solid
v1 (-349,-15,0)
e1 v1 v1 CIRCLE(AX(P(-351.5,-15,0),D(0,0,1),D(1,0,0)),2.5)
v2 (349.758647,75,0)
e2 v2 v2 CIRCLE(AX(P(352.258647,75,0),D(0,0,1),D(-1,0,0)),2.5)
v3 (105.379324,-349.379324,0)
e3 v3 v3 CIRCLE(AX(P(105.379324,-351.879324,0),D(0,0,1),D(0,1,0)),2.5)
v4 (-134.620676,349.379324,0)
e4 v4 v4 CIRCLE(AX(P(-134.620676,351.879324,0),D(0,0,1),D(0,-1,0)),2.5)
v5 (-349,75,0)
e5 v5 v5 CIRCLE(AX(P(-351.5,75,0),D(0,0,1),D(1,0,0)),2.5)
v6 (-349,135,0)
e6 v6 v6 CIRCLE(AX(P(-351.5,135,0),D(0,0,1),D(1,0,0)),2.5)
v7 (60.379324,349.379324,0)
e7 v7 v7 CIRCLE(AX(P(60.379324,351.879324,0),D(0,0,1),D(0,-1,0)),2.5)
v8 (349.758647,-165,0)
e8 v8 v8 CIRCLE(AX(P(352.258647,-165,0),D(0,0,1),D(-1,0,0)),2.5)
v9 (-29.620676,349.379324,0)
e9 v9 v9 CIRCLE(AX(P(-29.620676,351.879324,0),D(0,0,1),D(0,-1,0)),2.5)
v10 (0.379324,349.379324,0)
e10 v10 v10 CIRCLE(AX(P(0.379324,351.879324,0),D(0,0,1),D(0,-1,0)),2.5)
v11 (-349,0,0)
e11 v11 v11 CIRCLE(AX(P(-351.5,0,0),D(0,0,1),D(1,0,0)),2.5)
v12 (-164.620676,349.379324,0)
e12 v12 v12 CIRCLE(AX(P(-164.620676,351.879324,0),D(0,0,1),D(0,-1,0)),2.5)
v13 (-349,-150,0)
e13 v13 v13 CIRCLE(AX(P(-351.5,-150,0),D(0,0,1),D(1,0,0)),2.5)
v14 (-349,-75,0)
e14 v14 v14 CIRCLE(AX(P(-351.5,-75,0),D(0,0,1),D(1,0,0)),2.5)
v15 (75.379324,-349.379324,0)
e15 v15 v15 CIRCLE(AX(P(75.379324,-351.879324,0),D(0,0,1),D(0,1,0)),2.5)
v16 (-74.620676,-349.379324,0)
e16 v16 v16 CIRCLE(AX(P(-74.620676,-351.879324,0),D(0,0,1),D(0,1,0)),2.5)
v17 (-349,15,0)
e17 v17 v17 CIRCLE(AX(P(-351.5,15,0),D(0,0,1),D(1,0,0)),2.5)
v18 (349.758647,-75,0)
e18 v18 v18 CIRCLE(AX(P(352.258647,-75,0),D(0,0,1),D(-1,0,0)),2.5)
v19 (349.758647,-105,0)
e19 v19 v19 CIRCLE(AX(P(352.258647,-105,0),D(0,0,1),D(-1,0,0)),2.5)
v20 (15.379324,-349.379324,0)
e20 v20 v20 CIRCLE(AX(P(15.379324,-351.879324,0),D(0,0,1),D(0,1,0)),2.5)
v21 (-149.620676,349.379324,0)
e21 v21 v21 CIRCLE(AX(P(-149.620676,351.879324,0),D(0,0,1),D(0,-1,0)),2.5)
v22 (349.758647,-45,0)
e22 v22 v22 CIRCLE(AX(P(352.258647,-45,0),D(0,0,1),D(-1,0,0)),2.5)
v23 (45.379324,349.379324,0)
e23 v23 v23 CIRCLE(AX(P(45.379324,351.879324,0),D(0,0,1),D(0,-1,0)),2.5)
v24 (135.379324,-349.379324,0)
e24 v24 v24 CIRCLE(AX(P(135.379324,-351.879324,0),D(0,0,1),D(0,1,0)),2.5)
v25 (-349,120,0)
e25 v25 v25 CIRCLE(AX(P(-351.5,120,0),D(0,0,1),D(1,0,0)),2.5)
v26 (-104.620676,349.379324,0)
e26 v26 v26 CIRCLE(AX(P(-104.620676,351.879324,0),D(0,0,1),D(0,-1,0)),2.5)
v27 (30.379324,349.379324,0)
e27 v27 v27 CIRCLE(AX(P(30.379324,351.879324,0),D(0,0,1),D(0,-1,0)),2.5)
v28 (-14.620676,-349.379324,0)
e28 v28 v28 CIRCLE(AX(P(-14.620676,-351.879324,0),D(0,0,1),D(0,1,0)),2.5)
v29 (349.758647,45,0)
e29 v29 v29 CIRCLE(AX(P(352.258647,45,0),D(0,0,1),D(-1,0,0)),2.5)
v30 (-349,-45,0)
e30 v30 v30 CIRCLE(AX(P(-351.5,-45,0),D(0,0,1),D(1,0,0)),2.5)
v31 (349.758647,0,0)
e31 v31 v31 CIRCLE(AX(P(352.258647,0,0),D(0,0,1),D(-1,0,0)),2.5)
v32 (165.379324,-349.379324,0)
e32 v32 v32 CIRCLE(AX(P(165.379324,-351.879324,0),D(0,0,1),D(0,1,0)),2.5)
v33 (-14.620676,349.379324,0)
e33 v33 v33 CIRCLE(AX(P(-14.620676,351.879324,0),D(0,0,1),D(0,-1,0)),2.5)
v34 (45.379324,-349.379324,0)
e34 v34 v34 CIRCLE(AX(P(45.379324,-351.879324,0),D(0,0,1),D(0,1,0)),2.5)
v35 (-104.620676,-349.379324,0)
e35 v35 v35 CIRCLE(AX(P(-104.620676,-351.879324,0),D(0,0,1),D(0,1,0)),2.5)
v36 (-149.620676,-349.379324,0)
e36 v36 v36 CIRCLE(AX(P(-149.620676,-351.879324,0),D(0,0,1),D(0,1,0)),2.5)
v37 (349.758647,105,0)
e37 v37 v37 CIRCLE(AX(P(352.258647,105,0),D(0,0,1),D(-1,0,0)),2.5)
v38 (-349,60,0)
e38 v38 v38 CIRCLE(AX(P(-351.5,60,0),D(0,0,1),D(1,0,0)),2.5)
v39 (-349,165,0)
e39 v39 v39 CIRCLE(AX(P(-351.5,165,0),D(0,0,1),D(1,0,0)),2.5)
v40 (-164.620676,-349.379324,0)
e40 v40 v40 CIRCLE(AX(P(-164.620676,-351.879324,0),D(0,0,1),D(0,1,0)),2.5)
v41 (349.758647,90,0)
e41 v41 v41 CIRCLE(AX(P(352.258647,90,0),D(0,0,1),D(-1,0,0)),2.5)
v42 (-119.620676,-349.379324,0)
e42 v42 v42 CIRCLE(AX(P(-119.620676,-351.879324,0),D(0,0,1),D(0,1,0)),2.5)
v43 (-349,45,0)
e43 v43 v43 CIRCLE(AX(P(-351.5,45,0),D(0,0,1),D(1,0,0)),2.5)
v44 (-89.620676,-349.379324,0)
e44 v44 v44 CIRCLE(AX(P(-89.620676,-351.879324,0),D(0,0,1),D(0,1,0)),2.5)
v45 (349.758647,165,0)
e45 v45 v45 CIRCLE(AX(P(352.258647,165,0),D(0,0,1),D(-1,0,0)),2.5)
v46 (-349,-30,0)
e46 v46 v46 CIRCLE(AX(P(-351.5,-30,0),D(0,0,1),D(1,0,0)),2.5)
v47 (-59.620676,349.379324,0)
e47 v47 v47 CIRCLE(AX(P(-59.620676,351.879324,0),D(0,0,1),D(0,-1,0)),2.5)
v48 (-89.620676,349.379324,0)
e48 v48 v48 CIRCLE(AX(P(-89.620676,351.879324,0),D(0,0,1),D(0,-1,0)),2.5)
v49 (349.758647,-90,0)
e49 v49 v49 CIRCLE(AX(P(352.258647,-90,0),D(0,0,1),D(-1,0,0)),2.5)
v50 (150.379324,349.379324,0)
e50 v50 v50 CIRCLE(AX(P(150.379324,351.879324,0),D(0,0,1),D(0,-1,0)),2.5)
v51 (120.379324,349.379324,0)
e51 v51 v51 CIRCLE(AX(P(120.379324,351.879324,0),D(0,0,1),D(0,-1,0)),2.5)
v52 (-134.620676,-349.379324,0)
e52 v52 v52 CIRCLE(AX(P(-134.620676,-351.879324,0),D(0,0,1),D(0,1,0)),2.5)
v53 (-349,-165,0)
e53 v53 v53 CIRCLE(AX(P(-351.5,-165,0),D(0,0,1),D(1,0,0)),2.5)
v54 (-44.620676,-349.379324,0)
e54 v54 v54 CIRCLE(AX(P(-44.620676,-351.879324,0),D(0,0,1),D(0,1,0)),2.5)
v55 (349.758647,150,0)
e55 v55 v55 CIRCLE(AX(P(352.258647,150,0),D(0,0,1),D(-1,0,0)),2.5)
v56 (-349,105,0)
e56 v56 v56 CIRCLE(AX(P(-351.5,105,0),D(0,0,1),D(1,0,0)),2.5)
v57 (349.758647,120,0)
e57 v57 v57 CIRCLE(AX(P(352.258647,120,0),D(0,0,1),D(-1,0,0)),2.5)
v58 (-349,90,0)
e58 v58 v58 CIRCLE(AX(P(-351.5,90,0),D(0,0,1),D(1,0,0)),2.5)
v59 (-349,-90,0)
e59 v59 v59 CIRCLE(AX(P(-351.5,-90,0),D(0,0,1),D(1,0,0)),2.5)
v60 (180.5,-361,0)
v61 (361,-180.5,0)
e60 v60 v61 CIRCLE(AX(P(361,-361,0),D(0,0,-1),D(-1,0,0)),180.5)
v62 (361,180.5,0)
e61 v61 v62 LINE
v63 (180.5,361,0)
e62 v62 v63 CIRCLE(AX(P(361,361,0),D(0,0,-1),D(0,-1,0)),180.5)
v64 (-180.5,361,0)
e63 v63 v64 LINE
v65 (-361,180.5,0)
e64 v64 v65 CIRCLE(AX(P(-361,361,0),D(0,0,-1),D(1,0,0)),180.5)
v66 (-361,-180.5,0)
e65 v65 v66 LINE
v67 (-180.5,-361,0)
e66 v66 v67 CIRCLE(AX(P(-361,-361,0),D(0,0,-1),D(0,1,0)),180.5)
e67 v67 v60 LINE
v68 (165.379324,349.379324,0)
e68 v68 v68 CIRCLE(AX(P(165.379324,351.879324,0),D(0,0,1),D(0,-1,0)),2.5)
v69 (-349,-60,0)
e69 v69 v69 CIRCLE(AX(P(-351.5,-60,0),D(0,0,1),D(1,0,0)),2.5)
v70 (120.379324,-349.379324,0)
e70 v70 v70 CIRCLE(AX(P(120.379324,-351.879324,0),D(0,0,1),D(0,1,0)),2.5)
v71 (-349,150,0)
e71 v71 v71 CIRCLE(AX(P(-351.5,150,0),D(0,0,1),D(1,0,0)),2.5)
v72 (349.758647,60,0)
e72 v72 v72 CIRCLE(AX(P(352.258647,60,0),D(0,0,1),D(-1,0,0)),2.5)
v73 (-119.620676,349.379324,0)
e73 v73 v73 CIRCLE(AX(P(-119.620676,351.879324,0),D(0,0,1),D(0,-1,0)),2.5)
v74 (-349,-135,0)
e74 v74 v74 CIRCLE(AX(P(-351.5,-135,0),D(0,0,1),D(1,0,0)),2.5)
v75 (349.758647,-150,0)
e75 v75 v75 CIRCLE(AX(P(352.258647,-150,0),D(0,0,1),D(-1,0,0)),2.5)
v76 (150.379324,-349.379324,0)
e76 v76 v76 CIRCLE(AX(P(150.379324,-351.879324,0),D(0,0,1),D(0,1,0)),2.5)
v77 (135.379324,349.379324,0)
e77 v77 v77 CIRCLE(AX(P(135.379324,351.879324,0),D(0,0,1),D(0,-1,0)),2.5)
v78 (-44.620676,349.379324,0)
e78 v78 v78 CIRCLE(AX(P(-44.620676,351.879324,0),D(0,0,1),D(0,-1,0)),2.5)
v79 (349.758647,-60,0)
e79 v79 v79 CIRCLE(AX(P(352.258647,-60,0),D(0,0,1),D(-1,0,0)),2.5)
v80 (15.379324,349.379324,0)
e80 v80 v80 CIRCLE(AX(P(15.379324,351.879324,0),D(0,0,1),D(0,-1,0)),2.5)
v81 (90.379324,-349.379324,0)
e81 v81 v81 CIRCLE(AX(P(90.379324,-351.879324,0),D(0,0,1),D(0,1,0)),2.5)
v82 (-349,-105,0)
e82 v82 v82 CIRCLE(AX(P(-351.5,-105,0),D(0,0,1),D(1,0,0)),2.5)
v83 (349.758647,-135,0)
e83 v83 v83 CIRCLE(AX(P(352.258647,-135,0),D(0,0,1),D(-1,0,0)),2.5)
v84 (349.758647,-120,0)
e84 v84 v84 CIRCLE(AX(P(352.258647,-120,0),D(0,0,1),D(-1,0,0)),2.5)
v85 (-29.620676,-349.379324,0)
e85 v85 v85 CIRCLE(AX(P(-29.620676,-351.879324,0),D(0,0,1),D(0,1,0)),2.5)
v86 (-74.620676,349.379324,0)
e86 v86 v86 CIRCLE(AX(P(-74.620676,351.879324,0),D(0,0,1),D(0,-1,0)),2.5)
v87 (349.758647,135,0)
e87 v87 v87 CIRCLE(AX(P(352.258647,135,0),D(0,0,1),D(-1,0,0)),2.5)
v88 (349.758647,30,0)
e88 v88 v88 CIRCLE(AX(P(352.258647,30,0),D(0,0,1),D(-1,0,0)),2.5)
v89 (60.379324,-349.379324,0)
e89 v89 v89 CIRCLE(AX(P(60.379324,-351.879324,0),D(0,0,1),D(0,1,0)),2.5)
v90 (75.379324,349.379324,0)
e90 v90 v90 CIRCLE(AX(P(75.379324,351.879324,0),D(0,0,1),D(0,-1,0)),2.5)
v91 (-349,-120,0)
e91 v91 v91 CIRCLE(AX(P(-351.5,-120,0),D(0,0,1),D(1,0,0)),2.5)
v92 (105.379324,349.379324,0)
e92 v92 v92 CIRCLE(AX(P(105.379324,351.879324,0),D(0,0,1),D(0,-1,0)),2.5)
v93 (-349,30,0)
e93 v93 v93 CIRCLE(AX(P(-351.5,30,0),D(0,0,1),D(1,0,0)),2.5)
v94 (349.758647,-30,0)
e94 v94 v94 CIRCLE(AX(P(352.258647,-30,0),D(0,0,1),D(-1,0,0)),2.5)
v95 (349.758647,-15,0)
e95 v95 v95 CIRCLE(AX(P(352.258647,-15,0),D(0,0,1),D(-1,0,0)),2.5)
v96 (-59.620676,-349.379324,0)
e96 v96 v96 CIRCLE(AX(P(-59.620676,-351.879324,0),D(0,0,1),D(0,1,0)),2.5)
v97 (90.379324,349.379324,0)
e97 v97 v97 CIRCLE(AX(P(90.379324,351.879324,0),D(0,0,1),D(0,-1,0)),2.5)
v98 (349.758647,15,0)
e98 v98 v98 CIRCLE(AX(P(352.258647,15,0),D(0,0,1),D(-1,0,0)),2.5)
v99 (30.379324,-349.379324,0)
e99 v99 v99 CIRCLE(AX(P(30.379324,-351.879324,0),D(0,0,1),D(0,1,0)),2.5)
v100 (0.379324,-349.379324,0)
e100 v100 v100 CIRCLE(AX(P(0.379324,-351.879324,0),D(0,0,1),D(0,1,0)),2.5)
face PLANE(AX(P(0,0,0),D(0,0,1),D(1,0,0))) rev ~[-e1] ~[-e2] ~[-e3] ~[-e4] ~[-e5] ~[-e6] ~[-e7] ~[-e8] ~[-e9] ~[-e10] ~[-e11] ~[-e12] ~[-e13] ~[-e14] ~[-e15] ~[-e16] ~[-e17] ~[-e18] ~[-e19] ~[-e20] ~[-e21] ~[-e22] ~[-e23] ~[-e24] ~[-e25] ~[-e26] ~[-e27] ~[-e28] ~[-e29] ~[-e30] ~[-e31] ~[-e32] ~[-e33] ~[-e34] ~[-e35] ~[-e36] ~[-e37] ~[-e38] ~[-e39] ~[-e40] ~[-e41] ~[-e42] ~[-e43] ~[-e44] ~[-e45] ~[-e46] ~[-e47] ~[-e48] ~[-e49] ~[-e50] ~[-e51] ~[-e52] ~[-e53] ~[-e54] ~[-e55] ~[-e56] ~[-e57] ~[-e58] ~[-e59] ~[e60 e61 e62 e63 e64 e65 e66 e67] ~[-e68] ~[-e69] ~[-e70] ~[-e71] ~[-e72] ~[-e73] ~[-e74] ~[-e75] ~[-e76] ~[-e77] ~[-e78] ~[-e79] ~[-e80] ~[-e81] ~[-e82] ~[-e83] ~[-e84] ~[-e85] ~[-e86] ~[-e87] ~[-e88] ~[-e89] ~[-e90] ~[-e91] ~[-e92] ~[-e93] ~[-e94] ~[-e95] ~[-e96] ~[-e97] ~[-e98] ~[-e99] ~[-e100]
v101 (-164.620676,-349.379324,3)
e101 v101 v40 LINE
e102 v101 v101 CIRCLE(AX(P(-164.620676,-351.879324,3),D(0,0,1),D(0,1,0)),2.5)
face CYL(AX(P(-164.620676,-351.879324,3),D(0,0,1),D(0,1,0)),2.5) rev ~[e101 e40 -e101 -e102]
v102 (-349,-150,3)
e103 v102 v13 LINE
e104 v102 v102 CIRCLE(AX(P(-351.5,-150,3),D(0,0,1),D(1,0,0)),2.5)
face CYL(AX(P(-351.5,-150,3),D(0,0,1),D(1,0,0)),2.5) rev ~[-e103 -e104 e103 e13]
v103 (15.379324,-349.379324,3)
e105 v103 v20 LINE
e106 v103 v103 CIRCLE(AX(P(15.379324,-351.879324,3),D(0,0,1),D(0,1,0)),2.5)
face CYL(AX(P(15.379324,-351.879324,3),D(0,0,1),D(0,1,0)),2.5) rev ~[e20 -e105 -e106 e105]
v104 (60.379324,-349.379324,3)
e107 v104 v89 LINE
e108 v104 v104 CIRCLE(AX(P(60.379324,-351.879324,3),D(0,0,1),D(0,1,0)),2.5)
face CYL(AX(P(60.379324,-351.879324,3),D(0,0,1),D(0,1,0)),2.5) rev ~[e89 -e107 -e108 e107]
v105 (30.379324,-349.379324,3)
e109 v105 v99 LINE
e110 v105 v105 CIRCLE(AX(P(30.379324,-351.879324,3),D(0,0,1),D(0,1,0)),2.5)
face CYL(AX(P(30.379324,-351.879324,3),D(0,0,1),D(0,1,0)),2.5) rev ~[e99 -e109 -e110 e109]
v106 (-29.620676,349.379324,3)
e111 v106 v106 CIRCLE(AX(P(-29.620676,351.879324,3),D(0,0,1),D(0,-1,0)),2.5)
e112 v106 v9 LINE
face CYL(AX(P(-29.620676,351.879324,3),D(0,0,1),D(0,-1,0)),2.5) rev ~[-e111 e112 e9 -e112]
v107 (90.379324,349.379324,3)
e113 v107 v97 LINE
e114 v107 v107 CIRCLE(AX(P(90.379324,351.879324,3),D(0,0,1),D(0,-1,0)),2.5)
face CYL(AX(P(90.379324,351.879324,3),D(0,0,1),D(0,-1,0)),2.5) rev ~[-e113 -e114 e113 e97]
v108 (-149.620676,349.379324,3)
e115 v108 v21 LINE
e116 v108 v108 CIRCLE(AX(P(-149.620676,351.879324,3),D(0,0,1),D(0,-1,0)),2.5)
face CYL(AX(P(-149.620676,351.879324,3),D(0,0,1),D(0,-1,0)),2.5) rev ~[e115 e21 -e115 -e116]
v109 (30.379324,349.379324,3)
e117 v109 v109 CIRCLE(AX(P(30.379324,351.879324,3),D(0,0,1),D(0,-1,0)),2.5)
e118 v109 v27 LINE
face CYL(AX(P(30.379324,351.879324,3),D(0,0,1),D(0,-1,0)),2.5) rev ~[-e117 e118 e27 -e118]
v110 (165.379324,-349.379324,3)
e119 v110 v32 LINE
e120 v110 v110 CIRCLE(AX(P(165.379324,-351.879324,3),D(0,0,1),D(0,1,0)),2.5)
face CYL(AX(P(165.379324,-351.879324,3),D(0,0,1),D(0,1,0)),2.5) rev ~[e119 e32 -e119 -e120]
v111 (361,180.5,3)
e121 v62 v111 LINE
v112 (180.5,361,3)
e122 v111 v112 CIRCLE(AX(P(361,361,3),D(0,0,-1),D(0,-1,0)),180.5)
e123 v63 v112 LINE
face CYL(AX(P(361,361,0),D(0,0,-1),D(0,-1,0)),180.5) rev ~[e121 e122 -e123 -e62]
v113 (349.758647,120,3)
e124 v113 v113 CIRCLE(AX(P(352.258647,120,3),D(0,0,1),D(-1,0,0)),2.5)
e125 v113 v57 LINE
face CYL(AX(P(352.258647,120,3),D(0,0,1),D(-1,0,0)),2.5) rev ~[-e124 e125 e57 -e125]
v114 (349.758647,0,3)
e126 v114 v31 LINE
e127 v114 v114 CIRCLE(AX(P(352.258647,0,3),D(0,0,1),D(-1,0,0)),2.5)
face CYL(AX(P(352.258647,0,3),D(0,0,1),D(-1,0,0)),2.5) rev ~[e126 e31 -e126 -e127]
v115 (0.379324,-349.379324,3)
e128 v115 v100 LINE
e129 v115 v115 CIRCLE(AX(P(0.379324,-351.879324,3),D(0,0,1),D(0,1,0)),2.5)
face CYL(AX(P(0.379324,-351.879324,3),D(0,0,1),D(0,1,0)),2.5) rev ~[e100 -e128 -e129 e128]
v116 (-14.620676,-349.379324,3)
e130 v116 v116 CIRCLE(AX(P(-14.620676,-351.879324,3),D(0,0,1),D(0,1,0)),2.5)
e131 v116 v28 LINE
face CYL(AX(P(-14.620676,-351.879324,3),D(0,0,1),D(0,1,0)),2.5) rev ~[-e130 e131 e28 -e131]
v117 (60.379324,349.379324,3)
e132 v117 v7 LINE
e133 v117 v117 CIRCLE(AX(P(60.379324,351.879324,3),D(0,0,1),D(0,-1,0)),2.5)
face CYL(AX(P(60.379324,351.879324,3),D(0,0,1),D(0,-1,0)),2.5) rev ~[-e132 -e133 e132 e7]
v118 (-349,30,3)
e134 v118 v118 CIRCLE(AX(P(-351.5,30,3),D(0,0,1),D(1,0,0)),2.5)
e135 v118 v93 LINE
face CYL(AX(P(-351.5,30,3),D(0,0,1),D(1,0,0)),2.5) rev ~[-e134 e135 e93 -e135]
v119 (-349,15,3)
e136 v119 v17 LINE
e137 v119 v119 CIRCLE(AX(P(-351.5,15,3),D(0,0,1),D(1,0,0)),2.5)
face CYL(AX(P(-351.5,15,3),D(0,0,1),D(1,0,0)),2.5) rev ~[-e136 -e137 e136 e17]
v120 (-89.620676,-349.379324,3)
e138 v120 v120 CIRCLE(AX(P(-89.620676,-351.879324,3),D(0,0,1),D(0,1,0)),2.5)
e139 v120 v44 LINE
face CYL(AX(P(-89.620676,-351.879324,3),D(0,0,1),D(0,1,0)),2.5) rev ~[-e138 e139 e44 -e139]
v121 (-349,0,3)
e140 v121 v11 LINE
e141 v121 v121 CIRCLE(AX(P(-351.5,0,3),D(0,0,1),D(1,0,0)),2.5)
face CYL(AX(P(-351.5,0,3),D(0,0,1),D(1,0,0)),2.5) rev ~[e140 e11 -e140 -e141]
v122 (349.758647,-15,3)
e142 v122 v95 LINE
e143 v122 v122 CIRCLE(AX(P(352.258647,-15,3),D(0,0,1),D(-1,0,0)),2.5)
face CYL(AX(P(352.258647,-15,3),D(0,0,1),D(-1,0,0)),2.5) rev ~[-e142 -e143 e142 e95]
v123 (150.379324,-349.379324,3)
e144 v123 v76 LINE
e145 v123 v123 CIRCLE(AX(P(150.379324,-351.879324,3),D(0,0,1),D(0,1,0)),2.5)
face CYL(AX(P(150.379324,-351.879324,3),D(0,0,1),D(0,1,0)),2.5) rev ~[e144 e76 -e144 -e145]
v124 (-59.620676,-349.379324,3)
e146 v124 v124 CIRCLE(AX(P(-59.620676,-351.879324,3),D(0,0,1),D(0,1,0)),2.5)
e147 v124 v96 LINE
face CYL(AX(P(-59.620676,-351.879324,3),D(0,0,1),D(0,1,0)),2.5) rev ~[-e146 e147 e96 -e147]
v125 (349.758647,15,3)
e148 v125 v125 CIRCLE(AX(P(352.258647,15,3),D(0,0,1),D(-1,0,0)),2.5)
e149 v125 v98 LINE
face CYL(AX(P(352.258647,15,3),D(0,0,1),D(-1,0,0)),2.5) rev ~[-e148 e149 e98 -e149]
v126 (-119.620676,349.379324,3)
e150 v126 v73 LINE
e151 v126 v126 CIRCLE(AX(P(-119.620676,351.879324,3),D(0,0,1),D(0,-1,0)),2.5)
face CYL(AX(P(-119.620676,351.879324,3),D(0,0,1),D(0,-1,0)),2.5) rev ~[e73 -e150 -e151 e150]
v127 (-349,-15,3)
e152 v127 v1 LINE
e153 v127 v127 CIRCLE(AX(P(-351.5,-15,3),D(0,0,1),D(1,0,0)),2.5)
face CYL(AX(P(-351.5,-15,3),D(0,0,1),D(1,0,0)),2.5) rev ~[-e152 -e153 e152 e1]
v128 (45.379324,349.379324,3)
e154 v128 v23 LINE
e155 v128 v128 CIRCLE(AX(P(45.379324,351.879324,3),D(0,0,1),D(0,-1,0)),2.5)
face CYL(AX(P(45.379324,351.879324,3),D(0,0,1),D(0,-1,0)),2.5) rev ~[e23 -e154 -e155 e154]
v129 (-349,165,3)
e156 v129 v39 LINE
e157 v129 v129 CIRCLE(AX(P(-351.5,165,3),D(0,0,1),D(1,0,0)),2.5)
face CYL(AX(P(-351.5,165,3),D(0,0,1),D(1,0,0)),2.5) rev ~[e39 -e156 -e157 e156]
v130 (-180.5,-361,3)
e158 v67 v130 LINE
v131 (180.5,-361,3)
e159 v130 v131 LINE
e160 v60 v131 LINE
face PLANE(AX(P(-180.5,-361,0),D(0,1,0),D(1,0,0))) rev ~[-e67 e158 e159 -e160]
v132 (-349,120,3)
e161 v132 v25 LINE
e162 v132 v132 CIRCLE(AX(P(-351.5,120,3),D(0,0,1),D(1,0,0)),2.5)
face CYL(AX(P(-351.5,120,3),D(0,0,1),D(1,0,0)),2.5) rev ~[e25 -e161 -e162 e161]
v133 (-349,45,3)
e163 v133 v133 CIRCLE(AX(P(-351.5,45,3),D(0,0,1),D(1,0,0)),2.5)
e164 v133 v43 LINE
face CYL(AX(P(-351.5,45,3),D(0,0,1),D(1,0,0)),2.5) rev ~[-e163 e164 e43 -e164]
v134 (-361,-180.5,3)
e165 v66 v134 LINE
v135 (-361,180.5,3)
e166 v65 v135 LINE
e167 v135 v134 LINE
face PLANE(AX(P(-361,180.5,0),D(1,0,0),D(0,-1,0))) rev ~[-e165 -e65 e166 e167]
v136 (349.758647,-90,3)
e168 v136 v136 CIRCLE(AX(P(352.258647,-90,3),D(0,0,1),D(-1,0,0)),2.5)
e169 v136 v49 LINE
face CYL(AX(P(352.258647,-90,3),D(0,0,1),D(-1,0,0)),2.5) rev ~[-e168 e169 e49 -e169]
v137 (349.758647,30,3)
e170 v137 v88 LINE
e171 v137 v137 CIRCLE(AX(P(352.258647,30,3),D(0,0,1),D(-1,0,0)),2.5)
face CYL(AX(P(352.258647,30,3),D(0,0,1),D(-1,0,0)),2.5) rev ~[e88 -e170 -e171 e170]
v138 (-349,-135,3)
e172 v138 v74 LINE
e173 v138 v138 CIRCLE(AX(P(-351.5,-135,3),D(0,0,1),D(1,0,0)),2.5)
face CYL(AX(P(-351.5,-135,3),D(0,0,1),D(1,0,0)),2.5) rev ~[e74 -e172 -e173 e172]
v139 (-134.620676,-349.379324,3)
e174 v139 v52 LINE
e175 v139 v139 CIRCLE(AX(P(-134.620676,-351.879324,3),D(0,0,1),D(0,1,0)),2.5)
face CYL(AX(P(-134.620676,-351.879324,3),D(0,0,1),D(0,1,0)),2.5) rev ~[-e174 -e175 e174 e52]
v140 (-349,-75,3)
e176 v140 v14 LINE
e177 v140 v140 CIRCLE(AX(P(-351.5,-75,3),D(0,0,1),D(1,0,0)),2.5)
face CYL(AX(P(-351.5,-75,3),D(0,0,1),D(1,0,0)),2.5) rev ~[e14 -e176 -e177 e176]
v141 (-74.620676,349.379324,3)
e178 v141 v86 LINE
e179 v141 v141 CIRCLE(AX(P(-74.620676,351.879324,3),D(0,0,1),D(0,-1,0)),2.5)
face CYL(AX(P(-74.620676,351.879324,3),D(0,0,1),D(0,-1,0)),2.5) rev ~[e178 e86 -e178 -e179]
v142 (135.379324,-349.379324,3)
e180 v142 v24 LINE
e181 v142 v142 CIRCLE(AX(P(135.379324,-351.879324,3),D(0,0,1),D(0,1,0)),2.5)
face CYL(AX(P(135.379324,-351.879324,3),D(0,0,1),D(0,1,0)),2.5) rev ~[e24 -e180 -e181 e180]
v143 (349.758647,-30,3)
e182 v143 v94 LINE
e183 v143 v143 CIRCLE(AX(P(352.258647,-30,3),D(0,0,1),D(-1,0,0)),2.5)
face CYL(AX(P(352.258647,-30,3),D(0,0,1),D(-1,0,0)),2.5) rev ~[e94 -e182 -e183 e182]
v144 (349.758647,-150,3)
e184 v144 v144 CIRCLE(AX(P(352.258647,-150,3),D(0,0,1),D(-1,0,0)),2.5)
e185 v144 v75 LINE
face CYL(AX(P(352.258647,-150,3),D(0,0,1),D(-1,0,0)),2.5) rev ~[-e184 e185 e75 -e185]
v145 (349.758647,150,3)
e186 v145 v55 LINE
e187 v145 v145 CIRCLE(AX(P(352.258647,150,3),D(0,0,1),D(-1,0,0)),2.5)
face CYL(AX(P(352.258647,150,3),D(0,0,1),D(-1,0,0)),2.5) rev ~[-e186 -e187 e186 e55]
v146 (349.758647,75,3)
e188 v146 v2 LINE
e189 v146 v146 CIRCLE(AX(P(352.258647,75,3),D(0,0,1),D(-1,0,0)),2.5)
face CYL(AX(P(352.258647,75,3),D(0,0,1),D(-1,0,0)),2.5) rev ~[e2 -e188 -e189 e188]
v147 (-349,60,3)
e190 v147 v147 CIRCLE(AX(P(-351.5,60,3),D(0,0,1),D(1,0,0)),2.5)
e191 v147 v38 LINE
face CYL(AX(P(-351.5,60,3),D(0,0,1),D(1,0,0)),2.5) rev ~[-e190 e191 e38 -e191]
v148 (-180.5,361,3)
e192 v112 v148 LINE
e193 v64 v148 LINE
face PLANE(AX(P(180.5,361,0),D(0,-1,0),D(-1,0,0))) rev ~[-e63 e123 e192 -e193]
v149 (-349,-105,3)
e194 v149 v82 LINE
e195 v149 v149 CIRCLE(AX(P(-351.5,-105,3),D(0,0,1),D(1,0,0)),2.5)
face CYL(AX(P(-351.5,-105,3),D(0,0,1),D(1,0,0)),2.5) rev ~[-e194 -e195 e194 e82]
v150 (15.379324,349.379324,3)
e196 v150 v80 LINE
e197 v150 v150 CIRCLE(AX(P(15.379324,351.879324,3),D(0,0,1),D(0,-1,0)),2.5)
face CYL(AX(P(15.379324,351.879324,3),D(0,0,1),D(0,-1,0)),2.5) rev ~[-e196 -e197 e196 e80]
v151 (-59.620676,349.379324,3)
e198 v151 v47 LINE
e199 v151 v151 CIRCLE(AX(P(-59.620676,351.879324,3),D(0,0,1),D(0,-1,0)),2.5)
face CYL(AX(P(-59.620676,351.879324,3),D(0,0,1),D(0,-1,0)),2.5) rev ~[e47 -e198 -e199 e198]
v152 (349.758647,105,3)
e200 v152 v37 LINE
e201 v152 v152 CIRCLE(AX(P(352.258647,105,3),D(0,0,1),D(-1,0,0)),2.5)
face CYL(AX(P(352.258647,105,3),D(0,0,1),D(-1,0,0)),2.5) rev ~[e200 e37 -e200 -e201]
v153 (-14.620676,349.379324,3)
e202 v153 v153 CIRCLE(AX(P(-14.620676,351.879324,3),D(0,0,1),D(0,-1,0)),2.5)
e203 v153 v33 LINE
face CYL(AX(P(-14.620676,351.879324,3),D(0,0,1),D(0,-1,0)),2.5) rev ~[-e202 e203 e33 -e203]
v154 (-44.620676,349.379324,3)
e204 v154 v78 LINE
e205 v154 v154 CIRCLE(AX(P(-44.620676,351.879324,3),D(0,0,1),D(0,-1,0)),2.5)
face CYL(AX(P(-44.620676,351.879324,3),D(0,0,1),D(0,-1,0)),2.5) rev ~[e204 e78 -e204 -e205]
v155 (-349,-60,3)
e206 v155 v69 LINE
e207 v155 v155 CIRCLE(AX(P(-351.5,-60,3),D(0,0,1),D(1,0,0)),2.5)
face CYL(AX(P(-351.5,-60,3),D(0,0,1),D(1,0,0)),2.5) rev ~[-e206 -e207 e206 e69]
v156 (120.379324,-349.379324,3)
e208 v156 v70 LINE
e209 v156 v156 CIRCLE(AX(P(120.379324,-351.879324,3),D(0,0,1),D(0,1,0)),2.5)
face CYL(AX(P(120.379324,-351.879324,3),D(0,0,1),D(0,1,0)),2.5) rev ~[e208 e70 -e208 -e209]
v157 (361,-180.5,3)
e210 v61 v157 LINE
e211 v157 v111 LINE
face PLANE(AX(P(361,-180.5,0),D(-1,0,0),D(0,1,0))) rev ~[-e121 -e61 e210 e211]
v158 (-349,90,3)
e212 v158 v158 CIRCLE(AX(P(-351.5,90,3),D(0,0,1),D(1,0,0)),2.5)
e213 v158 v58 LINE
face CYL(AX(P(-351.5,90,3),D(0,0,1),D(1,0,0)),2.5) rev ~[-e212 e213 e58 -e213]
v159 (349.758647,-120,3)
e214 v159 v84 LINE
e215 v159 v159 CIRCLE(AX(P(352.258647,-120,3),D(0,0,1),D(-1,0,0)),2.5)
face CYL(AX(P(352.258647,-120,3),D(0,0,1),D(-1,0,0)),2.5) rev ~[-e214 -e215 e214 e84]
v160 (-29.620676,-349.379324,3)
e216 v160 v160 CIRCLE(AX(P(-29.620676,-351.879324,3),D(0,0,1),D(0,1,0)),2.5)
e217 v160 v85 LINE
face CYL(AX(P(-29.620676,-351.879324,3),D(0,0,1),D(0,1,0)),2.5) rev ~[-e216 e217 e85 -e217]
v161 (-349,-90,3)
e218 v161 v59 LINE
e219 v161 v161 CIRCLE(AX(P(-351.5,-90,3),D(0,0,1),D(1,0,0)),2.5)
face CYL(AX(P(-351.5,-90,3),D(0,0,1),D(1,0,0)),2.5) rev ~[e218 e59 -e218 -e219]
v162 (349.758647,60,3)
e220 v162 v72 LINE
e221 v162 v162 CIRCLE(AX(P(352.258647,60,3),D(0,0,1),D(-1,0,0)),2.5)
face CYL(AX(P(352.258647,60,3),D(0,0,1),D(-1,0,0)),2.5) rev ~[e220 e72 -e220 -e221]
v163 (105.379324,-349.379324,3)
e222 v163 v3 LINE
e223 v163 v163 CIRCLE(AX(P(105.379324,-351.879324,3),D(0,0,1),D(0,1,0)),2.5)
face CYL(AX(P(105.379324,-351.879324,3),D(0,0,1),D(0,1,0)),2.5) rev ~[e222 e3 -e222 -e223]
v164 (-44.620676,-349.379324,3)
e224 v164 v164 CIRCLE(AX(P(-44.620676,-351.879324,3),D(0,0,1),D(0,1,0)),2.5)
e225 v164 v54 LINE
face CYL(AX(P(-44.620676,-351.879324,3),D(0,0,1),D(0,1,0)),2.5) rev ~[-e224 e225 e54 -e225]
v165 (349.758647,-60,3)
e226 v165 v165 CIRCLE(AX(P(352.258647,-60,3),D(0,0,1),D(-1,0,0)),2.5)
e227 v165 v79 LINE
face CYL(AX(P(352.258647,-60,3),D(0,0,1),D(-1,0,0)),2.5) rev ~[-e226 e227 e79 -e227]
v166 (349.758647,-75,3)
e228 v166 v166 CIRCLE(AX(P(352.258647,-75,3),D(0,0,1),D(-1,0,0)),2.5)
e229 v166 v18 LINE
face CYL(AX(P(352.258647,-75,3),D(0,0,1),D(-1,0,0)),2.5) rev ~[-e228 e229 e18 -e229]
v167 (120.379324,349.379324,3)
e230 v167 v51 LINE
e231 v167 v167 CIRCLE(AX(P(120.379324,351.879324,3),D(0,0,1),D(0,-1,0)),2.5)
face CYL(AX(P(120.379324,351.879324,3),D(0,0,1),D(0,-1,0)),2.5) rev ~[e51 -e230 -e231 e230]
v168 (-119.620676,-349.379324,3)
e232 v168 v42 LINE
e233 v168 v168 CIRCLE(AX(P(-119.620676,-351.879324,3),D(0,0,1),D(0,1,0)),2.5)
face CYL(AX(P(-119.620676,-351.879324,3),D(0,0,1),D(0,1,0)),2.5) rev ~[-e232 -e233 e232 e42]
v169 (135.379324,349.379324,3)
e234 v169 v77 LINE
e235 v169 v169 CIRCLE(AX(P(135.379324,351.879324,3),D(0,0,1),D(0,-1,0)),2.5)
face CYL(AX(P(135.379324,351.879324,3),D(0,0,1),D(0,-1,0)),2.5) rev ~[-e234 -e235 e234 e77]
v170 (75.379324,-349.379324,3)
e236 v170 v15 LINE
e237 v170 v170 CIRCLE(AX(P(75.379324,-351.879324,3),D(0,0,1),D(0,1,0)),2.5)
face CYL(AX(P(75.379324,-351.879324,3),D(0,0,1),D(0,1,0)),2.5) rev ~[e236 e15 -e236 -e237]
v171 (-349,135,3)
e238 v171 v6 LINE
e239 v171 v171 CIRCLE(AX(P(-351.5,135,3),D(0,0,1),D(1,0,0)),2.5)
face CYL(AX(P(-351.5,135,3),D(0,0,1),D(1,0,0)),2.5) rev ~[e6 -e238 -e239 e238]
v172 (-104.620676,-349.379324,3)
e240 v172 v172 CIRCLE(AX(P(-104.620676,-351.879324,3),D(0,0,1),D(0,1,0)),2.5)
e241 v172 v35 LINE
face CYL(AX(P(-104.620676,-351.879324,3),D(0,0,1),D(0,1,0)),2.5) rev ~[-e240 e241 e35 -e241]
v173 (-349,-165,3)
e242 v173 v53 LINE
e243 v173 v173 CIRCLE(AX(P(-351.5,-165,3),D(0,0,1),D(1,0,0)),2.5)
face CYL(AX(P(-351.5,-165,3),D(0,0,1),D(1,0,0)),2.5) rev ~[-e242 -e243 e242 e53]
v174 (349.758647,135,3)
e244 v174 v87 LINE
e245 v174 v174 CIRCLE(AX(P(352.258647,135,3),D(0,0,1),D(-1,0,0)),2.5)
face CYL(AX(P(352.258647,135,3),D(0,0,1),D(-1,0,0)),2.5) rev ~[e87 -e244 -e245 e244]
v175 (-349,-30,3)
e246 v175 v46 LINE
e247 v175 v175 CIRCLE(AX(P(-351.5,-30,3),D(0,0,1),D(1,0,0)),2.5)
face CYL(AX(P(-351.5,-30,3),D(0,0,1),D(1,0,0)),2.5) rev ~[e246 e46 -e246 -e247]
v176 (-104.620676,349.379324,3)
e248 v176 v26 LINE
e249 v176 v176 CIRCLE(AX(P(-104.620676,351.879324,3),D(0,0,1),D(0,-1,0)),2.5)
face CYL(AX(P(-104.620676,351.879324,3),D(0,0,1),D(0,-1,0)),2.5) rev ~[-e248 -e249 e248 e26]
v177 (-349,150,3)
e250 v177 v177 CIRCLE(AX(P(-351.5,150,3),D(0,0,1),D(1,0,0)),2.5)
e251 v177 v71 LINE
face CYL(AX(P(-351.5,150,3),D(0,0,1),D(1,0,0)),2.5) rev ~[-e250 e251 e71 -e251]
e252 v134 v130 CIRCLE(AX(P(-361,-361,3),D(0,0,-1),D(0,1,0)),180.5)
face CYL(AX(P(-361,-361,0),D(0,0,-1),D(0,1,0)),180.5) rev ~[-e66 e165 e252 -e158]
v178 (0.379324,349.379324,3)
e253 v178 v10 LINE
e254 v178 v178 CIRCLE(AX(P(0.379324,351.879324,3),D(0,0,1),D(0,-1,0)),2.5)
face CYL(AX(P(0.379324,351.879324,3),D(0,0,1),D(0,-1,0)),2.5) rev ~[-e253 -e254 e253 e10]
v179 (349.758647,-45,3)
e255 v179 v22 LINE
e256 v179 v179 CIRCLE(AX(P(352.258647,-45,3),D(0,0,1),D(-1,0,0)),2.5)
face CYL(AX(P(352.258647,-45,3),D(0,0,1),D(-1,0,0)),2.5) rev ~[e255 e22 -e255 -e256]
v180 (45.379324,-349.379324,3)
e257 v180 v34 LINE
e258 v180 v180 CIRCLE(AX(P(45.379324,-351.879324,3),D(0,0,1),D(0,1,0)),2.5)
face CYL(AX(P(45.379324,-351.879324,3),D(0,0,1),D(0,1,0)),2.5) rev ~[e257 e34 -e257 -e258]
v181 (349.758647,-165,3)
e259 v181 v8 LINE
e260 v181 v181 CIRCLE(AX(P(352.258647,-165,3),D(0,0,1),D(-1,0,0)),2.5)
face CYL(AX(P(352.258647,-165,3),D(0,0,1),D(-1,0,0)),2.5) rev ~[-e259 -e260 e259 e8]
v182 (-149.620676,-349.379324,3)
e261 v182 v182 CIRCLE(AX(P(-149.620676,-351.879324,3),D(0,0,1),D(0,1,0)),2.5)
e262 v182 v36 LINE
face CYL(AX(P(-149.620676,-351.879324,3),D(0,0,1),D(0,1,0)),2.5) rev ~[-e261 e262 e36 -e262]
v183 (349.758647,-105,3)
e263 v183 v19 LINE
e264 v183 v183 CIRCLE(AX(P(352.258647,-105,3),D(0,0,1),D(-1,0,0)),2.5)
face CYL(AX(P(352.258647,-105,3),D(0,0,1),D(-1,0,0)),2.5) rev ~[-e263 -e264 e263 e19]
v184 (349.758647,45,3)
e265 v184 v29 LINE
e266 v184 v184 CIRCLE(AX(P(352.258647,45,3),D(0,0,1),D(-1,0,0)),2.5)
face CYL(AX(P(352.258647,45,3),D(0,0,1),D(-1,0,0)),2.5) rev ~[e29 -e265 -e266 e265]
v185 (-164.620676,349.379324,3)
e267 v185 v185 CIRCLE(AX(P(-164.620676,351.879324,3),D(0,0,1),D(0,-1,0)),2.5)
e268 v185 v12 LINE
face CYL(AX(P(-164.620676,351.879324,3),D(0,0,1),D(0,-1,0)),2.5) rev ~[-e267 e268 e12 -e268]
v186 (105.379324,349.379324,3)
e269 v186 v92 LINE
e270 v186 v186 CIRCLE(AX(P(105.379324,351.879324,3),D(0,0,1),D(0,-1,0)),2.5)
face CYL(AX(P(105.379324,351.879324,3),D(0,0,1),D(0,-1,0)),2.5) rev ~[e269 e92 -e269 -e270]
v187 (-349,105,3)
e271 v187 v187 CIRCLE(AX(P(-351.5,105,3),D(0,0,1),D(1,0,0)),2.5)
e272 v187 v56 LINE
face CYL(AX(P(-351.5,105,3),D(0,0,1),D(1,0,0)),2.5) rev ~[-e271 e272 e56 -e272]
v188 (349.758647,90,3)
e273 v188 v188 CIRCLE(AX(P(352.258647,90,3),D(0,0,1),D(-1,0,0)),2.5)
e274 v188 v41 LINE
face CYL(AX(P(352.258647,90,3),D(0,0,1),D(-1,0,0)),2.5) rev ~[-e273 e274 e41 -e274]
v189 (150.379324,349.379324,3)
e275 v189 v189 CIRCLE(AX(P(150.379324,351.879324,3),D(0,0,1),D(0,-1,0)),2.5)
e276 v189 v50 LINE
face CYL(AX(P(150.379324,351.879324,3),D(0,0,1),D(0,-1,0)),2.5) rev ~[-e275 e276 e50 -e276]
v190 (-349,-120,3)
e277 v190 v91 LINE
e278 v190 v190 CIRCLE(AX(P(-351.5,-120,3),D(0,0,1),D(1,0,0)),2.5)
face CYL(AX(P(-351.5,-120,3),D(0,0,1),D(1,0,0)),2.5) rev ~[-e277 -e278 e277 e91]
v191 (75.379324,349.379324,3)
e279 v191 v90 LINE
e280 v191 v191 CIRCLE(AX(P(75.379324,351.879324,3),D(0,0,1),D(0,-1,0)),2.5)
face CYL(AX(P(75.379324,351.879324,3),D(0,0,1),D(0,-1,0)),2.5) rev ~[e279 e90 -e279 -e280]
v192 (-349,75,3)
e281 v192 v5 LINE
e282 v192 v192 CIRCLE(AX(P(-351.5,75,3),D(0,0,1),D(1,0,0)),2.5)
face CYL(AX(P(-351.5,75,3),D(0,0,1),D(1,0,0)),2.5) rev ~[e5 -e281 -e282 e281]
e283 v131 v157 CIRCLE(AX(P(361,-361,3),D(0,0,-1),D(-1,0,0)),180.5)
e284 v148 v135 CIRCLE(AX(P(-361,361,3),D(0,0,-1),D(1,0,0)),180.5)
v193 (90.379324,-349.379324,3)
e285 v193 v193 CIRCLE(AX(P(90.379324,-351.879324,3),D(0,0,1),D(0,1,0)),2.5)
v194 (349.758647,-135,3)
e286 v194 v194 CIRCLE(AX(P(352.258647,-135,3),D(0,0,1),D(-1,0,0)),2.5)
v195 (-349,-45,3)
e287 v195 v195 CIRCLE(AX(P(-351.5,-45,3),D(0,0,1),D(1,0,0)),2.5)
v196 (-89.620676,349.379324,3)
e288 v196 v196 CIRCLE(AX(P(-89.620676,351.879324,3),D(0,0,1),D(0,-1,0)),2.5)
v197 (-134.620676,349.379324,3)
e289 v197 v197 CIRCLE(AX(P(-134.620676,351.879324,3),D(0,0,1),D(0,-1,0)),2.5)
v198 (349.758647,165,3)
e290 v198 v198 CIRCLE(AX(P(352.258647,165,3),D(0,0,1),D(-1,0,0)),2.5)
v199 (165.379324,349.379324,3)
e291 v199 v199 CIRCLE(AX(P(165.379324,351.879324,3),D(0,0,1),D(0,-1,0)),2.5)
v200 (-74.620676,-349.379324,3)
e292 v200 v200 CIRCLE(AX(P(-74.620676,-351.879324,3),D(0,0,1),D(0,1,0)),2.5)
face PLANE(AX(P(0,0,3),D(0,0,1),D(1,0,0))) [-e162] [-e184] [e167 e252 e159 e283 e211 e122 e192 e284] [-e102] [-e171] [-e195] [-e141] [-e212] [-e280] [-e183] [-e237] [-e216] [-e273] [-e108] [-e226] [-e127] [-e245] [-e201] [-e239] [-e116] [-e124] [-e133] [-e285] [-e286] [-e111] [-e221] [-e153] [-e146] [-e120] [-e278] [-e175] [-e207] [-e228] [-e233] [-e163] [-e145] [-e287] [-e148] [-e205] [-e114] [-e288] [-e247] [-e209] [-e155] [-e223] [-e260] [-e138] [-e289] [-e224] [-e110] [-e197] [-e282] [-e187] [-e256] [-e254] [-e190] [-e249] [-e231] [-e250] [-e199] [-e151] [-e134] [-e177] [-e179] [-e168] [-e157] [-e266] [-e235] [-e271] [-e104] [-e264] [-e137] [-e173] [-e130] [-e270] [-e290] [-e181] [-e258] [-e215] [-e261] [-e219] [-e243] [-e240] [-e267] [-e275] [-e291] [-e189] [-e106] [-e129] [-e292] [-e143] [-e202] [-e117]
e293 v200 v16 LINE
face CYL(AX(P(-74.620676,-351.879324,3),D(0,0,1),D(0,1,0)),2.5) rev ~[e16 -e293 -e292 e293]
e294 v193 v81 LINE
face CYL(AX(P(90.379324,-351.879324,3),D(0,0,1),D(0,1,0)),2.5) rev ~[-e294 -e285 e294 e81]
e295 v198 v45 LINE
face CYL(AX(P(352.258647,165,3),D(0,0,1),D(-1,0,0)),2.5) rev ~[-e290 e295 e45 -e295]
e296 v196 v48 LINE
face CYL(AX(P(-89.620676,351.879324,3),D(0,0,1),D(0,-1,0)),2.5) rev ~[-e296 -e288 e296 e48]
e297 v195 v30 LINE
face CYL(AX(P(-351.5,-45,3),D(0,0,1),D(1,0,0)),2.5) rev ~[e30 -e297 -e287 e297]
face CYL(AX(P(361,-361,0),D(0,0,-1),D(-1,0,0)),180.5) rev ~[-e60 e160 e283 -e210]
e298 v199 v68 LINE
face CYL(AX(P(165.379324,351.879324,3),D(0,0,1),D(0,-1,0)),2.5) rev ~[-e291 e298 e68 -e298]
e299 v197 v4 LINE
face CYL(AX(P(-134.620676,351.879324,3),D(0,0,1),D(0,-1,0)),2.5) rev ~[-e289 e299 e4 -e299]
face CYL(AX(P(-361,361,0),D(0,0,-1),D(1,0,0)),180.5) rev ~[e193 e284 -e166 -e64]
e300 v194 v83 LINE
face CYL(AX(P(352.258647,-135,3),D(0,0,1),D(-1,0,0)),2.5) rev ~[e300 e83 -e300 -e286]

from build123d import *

# Parameters (mm, degrees)
BOSS_EXTRUDE1_DEPTH = 3
SKETCH2_R           = 2.5
CUT_EXTRUDE1_DEPTH  = 3
CIRPATTERN1_COUNT   = 4


with BuildPart() as part:
    # Sketch1 → Boss-Extrude1 (new body)
    with BuildSketch(Plane.XY):
        with BuildLine():
            Line((-361, 180.5), (-361, -180.5))
            ThreePointArc((-361, -180.5), (-233.367225996, -233.367225996), (-180.5, -361))
            Line((-180.5, -361), (180.5, -361))
            ThreePointArc((180.5, -361), (233.367225996, -233.367225996), (361, -180.5))
            Line((361, -180.5), (361, 180.5))
            ThreePointArc((361, 180.5), (233.367225996, 233.367225996), (180.5, 361))
            Line((180.5, 361), (-180.5, 361))
            ThreePointArc((-180.5, 361), (-233.367225996, 233.367225996), (-361, 180.5))
        make_face()
    extrude(amount=BOSS_EXTRUDE1_DEPTH)

    # Sketch2 → Cut-Extrude1 (cut)
    with BuildSketch(Plane.XY.offset(3)):
        with Locations((-351.5, 165)):
            Circle(SKETCH2_R)
        with Locations((-351.5, 150)):
            Circle(SKETCH2_R)
        with Locations((-351.5, 135)):
            Circle(SKETCH2_R)
        with Locations((-351.5, 120)):
            Circle(SKETCH2_R)
        with Locations((-351.5, 105)):
            Circle(SKETCH2_R)
        with Locations((-351.5, 90)):
            Circle(SKETCH2_R)
        with Locations((-351.5, 75)):
            Circle(SKETCH2_R)
        with Locations((-351.5, 60)):
            Circle(SKETCH2_R)
        with Locations((-351.5, 45)):
            Circle(SKETCH2_R)
        with Locations((-351.5, 30)):
            Circle(SKETCH2_R)
        with Locations((-351.5, 15)):
            Circle(SKETCH2_R)
        with Locations((-351.5, 0)):
            Circle(SKETCH2_R)
        with Locations((-351.5, -15)):
            Circle(SKETCH2_R)
        with Locations((-351.5, -30)):
            Circle(SKETCH2_R)
        with Locations((-351.5, -165)):
            Circle(SKETCH2_R)
        with Locations((-351.5, -150)):
            Circle(SKETCH2_R)
        with Locations((-351.5, -135)):
            Circle(SKETCH2_R)
        with Locations((-351.5, -120)):
            Circle(SKETCH2_R)
        with Locations((-351.5, -45)):
            Circle(SKETCH2_R)
        with Locations((-351.5, -60)):
            Circle(SKETCH2_R)
        with Locations((-351.5, -75)):
            Circle(SKETCH2_R)
        with Locations((-351.5, -90)):
            Circle(SKETCH2_R)
        with Locations((-351.5, -105)):
            Circle(SKETCH2_R)
    cut_extrude1 = extrude(amount=-CUT_EXTRUDE1_DEPTH, mode=Mode.SUBTRACT)

    # CirPattern1: Cut-Extrude1 ×4 about axis
    cirpattern1_axis = Axis((0.379323616, 0, 0), (0, 0, 1))
    for i in range(1, CIRPATTERN1_COUNT):
        add(cut_extrude1.rotate(cirpattern1_axis, i * 360 / CIRPATTERN1_COUNT), mode=Mode.SUBTRACT)


solid = part.part
